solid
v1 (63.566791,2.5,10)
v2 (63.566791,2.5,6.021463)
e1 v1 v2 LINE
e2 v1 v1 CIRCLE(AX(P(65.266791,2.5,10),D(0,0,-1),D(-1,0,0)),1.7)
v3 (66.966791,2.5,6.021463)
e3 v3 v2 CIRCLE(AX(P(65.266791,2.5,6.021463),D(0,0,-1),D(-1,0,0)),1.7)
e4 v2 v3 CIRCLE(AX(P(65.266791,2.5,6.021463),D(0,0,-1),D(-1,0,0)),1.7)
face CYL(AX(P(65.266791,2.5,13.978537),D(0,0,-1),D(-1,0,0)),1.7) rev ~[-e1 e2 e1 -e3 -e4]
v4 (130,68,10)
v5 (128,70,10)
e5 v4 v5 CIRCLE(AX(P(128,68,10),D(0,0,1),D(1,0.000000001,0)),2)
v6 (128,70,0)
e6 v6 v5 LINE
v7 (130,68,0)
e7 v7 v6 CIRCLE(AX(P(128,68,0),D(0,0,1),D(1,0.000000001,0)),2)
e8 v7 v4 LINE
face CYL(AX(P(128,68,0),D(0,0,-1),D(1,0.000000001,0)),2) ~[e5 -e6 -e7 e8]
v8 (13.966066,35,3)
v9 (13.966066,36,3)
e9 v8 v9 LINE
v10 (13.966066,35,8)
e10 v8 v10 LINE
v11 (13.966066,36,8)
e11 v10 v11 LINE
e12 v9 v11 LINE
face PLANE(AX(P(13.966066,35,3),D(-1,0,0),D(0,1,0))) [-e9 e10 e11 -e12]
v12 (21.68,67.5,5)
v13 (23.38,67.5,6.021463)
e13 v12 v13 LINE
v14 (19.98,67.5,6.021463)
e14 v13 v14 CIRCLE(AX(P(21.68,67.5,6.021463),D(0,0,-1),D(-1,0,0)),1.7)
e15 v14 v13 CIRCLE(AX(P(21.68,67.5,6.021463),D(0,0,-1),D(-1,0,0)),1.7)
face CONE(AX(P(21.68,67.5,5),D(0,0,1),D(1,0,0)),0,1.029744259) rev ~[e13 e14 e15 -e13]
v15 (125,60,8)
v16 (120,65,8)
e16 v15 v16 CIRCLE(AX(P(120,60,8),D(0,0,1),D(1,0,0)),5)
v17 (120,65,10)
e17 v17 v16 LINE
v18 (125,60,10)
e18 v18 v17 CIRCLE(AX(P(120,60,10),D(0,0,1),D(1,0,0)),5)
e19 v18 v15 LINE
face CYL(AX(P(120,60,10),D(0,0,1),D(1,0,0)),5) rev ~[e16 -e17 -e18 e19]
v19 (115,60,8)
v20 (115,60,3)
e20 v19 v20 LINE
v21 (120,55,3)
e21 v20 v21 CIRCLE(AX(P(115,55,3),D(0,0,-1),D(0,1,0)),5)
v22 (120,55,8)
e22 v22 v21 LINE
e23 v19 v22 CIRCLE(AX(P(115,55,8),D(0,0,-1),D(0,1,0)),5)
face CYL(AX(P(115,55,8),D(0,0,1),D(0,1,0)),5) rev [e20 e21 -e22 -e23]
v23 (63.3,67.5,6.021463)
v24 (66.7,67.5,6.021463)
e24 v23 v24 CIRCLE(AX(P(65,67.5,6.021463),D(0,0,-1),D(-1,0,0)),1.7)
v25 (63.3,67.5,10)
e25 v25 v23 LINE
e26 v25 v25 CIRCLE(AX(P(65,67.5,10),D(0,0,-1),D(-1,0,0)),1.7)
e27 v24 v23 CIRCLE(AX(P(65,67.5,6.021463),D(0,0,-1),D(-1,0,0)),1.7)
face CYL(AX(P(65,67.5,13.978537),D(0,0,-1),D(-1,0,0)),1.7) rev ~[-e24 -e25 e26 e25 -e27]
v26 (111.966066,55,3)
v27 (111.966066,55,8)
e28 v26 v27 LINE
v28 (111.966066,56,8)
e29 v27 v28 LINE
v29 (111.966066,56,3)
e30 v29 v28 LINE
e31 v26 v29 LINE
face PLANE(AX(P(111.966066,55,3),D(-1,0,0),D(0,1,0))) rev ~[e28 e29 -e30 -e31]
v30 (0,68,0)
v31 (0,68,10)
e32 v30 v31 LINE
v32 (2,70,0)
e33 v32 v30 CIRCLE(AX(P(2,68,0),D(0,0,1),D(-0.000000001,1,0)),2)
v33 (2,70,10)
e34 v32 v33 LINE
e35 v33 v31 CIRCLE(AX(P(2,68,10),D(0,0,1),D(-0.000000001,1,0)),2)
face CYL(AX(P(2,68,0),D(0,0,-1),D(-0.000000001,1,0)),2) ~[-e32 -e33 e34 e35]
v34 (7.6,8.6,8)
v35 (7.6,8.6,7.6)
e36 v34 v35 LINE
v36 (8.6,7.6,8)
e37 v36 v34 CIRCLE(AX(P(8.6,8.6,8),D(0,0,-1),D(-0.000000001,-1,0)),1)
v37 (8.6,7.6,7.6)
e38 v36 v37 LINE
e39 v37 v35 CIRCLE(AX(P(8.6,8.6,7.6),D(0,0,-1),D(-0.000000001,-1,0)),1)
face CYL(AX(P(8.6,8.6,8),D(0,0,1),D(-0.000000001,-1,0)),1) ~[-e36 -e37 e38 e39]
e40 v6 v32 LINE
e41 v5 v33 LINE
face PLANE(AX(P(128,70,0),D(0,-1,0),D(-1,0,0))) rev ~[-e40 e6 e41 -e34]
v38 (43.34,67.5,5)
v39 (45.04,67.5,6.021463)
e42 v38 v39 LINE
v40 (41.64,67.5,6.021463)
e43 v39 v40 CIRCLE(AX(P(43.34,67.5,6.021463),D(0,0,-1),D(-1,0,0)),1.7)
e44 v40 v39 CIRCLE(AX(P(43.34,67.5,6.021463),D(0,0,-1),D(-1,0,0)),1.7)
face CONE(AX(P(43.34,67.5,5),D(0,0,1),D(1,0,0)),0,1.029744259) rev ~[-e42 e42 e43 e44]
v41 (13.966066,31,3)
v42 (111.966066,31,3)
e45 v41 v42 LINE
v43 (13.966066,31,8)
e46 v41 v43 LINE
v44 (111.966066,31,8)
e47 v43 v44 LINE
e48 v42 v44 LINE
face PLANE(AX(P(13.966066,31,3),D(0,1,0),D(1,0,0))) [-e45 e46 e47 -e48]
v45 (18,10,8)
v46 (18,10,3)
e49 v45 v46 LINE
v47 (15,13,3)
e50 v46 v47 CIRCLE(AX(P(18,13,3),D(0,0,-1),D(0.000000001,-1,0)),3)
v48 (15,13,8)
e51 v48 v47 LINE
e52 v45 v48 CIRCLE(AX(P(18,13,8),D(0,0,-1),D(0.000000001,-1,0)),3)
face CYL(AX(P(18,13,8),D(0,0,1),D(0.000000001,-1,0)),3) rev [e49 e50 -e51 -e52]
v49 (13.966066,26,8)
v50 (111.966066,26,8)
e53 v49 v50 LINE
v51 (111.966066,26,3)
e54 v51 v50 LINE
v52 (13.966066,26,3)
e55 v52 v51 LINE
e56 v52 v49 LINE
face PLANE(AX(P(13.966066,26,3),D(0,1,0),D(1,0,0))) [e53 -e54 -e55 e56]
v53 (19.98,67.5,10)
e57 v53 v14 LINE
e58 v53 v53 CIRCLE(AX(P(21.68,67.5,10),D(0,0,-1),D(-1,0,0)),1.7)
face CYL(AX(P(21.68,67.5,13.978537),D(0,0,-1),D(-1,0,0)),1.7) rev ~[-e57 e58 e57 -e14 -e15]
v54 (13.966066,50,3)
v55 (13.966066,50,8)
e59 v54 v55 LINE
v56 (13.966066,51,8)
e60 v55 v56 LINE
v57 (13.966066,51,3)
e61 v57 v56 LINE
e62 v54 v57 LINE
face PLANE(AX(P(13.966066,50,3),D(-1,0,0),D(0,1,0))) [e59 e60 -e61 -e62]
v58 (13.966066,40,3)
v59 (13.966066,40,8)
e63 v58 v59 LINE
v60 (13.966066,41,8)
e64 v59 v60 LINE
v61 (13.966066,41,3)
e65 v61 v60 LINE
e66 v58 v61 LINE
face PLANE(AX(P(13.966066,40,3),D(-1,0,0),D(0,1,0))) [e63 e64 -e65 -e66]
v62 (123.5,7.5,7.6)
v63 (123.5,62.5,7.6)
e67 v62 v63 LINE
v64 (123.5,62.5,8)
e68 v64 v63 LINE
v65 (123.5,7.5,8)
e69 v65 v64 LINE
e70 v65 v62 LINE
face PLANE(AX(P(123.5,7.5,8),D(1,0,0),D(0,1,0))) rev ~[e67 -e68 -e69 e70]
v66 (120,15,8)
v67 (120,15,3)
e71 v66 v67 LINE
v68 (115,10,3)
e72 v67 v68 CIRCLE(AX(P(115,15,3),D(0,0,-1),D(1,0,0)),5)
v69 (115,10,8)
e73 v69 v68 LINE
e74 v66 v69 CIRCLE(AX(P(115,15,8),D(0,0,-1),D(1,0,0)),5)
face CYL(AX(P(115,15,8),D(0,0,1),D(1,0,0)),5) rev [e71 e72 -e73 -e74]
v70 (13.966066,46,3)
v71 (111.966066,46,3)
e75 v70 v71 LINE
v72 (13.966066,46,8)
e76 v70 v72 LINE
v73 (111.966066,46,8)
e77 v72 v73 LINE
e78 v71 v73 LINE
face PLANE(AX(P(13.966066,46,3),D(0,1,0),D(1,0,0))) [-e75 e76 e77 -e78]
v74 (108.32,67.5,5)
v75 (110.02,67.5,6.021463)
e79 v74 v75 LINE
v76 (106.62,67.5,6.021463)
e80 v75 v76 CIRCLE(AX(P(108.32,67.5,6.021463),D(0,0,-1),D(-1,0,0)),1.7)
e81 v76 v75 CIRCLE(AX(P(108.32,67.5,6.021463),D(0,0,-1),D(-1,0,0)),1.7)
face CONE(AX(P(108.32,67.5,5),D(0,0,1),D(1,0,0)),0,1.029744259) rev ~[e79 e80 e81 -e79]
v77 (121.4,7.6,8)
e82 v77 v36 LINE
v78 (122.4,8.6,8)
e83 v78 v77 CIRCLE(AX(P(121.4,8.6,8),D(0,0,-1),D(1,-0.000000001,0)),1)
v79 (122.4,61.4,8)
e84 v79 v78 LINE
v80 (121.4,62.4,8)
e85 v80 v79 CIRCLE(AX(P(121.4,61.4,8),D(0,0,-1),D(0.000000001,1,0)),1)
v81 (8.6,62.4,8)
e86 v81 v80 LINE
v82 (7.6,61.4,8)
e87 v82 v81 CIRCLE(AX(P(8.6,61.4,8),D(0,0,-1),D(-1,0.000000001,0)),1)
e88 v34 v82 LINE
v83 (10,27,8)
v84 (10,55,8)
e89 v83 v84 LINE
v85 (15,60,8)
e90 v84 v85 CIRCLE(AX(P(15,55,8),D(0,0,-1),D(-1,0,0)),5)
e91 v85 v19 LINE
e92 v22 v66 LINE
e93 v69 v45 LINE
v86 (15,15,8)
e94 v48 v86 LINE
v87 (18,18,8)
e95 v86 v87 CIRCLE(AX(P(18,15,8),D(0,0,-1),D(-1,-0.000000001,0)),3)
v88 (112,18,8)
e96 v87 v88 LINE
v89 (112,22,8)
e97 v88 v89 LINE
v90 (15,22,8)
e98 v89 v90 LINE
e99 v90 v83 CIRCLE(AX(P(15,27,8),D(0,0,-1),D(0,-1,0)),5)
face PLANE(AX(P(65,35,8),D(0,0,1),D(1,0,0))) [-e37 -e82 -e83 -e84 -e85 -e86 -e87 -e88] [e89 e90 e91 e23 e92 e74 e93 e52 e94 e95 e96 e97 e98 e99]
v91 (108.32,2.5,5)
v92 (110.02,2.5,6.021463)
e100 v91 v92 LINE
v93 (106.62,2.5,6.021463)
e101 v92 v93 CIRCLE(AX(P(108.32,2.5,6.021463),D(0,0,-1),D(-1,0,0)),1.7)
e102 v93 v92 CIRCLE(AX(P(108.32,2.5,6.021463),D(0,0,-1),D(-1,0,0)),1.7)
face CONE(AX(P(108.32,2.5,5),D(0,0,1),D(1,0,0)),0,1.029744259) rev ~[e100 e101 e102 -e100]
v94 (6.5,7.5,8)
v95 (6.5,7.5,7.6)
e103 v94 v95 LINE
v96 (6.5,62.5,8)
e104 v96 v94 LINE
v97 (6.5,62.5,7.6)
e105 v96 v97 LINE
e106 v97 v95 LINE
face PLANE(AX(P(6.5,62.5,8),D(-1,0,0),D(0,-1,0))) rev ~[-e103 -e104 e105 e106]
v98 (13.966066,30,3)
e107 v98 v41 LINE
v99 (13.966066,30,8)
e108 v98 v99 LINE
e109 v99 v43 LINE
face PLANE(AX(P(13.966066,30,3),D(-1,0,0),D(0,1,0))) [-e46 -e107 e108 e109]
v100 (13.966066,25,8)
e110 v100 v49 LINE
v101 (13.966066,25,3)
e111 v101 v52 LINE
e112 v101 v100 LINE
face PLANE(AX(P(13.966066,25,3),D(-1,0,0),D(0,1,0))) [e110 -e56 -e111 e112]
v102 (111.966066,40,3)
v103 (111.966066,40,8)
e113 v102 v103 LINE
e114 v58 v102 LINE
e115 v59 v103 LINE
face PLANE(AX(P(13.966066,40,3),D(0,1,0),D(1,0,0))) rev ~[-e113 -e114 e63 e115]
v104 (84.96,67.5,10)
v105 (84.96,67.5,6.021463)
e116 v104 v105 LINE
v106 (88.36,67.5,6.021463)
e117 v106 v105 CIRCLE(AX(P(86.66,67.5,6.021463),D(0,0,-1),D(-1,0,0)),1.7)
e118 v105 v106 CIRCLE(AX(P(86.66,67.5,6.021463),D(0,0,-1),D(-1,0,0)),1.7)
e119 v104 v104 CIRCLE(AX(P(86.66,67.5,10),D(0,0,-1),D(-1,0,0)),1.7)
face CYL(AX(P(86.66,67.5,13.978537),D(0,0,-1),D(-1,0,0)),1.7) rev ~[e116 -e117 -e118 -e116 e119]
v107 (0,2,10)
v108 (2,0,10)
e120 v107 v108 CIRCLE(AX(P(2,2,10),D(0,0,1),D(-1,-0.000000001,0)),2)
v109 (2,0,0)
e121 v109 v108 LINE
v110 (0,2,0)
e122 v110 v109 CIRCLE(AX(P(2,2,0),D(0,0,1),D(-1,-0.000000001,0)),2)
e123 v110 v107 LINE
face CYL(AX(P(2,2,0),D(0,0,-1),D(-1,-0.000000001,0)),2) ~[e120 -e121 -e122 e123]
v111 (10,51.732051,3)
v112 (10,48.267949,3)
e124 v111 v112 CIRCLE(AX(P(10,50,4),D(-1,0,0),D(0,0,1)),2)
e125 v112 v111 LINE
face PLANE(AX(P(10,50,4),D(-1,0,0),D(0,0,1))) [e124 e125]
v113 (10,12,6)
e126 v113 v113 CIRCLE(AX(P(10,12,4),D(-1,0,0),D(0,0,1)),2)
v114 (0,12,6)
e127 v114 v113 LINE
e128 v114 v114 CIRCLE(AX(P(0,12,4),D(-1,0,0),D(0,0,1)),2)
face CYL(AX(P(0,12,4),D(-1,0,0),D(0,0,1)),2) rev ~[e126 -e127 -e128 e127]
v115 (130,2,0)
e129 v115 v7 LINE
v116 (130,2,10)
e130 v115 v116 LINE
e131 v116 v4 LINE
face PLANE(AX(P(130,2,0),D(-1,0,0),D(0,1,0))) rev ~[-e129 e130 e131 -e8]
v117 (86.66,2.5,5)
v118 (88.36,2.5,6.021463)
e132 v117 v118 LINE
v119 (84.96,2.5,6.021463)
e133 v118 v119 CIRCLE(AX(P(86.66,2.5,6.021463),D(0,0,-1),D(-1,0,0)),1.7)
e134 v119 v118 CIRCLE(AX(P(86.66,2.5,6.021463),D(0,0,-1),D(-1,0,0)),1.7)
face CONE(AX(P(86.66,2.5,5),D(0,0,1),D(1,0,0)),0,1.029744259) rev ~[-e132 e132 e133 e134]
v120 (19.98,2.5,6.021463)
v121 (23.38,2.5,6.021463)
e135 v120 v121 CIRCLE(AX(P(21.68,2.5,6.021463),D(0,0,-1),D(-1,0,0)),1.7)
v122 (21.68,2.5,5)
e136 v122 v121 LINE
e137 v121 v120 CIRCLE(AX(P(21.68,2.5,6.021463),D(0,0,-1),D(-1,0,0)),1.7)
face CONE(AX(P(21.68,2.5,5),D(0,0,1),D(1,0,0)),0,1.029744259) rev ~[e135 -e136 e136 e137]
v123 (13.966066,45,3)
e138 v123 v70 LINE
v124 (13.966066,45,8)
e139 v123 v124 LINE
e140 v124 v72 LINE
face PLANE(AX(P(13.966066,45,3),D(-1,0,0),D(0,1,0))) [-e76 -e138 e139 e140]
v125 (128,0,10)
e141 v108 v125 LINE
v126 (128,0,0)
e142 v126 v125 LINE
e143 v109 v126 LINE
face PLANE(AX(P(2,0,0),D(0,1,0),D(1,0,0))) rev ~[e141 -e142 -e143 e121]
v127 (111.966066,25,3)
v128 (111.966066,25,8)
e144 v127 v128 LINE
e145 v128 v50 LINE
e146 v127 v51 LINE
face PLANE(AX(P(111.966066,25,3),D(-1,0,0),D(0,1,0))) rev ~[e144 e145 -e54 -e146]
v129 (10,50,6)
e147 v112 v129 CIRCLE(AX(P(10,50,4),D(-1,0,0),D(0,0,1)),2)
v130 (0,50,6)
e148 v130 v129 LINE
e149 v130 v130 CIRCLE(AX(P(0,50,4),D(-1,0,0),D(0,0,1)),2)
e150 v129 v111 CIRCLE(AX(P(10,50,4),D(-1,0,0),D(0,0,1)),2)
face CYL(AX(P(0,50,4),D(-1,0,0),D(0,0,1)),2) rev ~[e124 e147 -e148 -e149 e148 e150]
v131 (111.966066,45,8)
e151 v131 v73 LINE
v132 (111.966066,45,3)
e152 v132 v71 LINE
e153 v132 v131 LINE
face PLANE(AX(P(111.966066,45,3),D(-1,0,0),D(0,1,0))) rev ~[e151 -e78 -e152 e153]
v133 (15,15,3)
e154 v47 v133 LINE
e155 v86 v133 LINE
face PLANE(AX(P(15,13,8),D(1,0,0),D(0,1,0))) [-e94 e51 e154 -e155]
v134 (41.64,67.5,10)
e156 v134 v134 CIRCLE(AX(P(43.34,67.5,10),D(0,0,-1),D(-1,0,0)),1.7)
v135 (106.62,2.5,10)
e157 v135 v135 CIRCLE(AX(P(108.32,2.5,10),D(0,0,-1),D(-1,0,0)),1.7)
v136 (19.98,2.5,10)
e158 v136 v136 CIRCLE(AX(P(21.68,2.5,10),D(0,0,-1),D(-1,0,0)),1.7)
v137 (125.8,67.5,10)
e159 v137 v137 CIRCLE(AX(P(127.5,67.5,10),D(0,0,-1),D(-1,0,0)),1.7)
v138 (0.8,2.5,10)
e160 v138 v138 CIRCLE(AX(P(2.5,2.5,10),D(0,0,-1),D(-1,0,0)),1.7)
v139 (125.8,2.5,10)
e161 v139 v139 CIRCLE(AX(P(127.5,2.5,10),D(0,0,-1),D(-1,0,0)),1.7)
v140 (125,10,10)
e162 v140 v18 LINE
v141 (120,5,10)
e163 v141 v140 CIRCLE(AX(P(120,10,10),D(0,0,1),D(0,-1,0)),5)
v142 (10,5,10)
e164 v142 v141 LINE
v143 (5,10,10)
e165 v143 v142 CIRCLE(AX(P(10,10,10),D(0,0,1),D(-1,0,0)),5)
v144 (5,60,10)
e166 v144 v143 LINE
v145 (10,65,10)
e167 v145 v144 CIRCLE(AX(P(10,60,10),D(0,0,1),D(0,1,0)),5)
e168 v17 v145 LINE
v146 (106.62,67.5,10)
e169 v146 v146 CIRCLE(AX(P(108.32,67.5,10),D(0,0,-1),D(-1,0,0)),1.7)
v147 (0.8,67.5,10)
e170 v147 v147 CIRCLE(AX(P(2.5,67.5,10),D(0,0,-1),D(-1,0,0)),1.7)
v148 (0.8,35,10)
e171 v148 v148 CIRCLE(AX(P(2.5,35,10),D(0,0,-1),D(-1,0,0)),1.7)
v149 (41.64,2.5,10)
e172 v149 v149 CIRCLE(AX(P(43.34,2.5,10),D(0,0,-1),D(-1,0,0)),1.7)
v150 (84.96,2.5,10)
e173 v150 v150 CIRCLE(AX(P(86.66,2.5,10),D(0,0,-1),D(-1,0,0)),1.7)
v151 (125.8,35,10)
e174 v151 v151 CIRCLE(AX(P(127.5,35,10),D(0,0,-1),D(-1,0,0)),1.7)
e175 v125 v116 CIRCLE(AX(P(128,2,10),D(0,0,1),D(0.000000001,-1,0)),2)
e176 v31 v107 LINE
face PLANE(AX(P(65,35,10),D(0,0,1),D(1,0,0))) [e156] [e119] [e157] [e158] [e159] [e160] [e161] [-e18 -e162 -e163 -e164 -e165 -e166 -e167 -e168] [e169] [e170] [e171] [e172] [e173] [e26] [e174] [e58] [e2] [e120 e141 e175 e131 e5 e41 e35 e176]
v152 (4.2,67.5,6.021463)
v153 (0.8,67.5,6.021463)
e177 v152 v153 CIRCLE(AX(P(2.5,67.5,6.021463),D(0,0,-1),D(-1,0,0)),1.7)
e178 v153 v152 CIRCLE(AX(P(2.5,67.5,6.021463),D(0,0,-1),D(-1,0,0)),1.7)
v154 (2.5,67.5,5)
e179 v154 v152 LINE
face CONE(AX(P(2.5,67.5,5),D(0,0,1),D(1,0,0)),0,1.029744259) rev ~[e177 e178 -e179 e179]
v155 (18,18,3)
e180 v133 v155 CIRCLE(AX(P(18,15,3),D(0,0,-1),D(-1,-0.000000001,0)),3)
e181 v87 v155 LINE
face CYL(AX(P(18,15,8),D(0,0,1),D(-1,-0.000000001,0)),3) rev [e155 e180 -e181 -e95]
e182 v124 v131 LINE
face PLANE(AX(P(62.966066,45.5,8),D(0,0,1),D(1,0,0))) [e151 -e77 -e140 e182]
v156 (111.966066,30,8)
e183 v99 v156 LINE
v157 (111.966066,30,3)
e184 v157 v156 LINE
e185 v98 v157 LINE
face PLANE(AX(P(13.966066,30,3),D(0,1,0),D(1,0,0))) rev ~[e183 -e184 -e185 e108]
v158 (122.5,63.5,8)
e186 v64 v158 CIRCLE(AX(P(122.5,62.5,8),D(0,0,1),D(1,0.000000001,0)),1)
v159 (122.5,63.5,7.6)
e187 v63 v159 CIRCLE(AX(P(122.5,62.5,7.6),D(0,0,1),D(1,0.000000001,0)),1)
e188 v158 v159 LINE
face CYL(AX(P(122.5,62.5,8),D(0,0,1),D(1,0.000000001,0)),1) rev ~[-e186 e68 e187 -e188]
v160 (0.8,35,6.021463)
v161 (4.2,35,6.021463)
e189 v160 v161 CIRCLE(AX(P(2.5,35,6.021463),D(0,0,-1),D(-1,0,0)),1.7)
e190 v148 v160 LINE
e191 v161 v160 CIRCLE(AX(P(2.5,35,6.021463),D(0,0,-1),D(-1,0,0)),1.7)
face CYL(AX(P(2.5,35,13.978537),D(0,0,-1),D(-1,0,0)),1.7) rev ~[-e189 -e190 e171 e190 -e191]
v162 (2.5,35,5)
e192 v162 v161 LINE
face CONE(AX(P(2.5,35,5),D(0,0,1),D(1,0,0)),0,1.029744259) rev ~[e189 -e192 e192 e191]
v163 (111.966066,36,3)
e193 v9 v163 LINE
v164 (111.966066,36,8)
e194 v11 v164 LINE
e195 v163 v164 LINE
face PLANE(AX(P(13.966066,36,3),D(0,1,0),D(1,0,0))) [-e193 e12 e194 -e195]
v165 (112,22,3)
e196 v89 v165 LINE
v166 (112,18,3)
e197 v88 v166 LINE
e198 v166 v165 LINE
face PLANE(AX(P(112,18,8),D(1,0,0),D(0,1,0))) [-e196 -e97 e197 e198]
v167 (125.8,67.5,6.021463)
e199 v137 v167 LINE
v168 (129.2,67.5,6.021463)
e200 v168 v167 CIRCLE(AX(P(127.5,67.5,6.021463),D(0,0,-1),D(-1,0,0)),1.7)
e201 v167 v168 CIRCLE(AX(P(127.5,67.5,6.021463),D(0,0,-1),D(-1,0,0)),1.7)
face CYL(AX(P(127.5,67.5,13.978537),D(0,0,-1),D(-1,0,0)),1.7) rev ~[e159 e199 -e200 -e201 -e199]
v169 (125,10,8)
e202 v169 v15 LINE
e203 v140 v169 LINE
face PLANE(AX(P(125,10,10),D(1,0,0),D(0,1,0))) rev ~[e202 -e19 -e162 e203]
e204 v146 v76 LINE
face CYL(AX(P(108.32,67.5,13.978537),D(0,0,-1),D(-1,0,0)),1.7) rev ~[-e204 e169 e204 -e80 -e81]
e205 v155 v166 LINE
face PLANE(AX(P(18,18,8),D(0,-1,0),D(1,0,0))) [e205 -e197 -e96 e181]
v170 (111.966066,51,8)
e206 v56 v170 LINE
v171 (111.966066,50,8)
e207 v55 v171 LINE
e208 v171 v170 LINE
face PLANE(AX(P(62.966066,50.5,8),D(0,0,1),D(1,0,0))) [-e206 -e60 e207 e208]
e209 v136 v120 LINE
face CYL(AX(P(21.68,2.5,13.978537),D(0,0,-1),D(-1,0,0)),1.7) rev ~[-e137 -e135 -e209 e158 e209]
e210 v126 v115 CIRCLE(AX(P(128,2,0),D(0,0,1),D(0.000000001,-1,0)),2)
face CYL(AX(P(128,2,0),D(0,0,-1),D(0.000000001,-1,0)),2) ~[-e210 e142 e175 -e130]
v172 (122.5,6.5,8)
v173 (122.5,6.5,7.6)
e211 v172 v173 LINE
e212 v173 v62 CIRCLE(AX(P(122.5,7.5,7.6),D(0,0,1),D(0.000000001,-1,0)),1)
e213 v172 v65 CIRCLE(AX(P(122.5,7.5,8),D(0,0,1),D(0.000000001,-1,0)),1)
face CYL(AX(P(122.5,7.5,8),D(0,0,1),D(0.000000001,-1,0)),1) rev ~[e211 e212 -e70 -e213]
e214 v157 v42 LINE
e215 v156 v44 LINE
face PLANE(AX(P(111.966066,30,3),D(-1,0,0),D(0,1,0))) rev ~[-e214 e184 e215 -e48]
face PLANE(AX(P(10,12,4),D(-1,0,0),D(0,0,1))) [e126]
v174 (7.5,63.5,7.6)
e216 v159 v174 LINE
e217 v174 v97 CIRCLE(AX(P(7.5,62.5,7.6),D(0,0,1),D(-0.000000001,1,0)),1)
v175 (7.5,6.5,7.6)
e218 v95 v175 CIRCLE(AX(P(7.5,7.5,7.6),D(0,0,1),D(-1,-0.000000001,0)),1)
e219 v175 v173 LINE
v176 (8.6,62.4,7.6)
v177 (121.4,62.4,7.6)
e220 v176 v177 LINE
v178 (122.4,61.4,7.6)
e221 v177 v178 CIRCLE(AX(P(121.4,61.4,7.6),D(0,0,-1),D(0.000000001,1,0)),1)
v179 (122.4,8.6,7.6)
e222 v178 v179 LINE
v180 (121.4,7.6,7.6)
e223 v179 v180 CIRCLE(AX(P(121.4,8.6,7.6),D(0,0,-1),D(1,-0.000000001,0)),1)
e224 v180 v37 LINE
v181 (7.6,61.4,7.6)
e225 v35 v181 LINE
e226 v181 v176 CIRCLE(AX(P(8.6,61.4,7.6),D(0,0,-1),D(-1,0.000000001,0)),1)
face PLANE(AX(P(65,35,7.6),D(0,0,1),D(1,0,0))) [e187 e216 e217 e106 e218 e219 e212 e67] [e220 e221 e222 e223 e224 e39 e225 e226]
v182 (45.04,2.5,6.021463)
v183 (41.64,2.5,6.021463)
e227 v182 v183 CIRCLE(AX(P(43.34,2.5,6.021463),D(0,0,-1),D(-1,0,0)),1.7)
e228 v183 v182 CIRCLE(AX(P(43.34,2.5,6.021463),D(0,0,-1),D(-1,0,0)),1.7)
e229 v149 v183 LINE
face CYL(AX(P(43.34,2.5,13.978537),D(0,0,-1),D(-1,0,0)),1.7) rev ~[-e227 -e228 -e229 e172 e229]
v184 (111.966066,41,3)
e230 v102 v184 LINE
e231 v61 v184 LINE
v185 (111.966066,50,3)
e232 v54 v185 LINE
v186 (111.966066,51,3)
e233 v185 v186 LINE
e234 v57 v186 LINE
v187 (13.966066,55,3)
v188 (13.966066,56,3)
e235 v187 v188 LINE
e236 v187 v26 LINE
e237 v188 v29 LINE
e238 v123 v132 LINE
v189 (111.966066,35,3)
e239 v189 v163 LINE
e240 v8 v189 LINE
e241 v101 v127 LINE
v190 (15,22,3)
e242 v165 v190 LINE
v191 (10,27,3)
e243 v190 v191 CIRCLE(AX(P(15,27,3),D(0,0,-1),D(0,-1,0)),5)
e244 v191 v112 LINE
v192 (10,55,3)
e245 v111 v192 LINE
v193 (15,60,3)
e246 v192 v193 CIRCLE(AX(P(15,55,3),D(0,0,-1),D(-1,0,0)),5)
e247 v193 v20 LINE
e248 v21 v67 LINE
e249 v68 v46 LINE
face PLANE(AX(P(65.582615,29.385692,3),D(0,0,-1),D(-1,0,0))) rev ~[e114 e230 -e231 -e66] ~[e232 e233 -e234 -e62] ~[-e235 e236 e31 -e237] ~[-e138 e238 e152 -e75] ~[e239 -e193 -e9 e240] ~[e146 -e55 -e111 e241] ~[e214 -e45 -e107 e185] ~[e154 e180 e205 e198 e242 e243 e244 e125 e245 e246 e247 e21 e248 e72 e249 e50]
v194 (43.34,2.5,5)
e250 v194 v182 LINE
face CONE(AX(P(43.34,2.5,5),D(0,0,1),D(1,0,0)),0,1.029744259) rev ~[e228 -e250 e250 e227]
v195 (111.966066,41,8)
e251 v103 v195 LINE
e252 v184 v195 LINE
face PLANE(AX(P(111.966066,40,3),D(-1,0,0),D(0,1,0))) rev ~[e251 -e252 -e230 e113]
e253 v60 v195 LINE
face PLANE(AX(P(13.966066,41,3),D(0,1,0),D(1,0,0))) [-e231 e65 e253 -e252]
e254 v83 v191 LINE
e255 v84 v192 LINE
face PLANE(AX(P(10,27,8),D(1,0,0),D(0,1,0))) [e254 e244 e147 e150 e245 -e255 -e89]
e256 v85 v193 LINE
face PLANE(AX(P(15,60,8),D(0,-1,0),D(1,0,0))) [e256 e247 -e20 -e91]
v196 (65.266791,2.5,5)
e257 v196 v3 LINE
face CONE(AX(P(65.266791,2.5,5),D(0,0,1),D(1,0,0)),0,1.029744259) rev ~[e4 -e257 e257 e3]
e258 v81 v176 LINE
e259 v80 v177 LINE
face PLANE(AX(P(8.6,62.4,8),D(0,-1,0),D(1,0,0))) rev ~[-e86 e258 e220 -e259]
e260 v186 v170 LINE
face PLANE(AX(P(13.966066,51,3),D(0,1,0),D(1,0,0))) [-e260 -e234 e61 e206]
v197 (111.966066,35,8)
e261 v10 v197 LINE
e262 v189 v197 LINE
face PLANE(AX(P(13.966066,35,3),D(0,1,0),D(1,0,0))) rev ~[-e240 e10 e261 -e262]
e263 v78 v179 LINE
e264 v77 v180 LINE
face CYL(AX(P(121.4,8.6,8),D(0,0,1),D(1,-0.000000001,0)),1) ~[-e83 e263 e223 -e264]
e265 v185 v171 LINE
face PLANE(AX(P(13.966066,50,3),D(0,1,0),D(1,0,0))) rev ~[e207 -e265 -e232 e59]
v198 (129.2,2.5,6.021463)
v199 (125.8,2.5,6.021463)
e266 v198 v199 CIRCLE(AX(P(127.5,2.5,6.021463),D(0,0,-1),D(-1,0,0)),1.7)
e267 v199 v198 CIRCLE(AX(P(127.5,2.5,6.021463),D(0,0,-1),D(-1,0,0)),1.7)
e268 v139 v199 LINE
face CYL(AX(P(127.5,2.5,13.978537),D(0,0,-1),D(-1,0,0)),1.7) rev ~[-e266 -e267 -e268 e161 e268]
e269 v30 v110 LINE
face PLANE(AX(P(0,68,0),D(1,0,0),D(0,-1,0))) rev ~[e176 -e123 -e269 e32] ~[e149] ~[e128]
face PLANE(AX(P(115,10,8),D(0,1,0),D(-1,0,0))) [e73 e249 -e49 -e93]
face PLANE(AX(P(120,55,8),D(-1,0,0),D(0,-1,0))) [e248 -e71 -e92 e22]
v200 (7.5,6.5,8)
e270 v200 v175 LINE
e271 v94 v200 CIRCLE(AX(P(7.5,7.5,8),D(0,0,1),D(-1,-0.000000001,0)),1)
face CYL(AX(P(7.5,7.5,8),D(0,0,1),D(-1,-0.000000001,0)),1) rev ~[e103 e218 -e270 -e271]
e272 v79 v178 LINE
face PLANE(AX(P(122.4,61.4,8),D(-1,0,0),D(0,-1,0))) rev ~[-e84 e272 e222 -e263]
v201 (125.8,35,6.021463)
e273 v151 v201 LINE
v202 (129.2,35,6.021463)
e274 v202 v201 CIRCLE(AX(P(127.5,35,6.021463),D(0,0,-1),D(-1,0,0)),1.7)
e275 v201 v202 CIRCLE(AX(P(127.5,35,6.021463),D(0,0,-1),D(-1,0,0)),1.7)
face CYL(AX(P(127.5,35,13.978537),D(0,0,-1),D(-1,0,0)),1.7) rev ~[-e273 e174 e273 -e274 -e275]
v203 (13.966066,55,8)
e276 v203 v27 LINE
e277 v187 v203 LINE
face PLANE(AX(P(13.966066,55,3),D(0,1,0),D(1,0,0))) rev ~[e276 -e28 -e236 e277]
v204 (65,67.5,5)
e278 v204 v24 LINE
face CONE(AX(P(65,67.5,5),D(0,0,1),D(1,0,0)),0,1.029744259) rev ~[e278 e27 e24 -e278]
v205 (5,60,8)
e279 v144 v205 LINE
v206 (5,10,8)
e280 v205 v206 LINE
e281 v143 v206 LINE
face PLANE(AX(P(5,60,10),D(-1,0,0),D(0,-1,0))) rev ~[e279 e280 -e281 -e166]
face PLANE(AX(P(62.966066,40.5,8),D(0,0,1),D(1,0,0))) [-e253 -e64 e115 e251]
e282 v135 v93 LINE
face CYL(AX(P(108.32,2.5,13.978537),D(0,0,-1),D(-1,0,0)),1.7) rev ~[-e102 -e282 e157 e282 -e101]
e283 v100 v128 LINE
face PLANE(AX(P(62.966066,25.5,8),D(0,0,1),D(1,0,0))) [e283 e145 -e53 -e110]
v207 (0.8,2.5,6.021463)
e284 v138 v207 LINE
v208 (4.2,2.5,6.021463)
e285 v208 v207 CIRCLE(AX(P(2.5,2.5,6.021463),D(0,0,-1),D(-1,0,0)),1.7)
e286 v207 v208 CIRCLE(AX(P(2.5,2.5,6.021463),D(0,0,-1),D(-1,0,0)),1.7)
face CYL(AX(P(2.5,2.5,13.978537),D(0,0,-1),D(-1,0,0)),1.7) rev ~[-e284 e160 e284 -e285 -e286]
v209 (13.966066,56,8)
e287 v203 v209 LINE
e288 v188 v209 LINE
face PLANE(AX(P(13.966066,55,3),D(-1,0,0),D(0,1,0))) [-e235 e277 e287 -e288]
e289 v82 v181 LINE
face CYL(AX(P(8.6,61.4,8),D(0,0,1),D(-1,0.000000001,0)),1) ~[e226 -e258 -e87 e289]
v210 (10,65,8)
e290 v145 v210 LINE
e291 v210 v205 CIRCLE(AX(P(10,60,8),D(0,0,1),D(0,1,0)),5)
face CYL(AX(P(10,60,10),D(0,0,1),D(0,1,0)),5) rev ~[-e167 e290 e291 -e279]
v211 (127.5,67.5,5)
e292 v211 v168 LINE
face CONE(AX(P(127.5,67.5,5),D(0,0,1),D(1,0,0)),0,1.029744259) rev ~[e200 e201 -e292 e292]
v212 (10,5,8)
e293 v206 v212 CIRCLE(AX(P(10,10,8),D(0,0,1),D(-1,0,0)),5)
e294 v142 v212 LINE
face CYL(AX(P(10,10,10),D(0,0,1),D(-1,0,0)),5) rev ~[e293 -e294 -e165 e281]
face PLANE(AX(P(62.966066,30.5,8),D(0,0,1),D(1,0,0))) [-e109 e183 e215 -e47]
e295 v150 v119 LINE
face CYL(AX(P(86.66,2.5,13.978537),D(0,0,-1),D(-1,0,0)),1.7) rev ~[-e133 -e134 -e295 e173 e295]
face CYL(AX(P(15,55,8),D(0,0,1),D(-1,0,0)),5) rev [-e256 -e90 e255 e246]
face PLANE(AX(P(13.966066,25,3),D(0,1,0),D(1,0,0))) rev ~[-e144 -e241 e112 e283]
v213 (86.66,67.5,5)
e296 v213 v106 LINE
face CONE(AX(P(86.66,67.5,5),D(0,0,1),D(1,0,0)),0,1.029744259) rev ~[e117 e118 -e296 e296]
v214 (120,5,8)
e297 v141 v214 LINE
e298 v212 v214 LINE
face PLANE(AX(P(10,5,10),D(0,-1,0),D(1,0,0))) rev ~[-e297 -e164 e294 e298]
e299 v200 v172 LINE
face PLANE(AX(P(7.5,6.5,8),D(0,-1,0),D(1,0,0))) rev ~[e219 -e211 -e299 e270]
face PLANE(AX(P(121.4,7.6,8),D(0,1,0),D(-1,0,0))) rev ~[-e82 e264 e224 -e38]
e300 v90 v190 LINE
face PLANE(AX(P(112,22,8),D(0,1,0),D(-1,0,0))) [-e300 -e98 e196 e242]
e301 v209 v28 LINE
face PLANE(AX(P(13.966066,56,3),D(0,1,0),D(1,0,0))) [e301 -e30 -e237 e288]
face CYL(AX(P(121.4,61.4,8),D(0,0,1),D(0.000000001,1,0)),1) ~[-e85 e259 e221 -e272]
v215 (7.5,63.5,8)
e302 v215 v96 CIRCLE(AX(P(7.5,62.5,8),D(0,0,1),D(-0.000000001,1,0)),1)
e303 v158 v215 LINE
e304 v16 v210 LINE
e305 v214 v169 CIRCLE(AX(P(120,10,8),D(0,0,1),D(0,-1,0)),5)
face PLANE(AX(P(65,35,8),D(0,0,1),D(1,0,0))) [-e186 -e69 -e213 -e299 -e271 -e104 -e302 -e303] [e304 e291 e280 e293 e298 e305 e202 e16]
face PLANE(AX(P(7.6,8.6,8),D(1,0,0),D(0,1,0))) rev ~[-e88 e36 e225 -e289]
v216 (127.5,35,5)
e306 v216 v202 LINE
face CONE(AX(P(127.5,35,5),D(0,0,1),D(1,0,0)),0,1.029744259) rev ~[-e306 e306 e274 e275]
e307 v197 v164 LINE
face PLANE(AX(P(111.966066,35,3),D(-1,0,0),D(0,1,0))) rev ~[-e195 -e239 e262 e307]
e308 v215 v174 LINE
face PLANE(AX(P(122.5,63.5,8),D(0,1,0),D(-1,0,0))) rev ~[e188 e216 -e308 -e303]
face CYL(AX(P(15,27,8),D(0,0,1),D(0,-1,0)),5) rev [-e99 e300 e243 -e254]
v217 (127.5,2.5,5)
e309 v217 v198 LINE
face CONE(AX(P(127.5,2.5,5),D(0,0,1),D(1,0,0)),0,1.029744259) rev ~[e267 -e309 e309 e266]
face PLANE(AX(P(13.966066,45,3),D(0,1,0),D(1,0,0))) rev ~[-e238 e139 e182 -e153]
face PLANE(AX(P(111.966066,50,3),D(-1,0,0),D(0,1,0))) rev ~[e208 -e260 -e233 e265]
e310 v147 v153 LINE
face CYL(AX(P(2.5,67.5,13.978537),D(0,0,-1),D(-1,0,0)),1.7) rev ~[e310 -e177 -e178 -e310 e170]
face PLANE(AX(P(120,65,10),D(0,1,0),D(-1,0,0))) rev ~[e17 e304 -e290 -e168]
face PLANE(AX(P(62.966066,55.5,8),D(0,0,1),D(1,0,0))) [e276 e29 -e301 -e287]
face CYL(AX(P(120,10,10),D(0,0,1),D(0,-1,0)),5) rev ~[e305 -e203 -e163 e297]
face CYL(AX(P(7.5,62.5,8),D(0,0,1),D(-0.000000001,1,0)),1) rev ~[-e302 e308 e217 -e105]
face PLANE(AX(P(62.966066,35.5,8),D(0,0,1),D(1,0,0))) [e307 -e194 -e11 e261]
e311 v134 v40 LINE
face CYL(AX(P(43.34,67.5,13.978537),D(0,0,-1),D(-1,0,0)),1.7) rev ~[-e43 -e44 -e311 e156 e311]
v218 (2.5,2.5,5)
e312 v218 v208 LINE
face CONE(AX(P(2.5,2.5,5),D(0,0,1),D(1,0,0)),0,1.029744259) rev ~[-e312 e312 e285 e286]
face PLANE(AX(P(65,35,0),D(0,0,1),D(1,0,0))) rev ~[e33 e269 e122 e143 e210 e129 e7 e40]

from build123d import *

# Parameters (mm, degrees)
BOSS_EXTRU_1_DEPTH      = 10
ENL_V_MAT_EXTRU_1_DEPTH = 2
ENL_V_MAT_EXTRU_3_DEPTH = 5
ESQUISSE23_W            = 98
ESQUISSE23_H            = 1
BOSS_EXTRU_2_DEPTH      = 5
ENL_V_MAT_EXTRU_4_DEPTH = 0.4
ESQUISSE19_R            = 2
ENL_V_MAT_EXTRU_5_DEPTH = 10
D_GAGEMENT_M31_D        = 3.4
D_GAGEMENT_M31_DEPTH    = 3.978536948
D_GAGEMENT_M31_TIP      = 1.021463052


with BuildPart() as part:
    # Esquisse1 → Boss.-Extru.1 (new body)
    with BuildSketch(Plane.XY):
        with BuildLine():
            Line((2, 0), (128, 0))
            ThreePointArc((128, 0), (129.414213562, 0.585786438), (130, 2))
            Line((130, 2), (130, 68))
            ThreePointArc((130, 68), (129.414213562, 69.414213562), (128, 70))
            Line((128, 70), (2, 70))
            ThreePointArc((2, 70), (0.585786438, 69.414213562), (0, 68))
            Line((0, 68), (0, 2))
            ThreePointArc((0, 2), (0.585786438, 0.585786438), (2, 0))
        make_face()
    extrude(amount=BOSS_EXTRU_1_DEPTH)

    # Esquisse18 → Enlèv. mat.-Extru.1 (cut)
    with BuildSketch(Plane.XY.offset(10)):
        with BuildLine():
            Line((10, 5), (120, 5))
            ThreePointArc((120, 5), (123.535533906, 6.464466094), (125, 10))
            Line((125, 10), (125, 60))
            ThreePointArc((125, 60), (123.535533906, 63.535533906), (120, 65))
            Line((120, 65), (10, 65))
            ThreePointArc((10, 65), (6.464466094, 63.535533906), (5, 60))
            Line((5, 60), (5, 10))
            ThreePointArc((5, 10), (6.464466094, 6.464466094), (10, 5))
        make_face()
    extrude(amount=-ENL_V_MAT_EXTRU_1_DEPTH, mode=Mode.SUBTRACT)

    # Esquisse20 → Enlèv. mat.-Extru.3 (cut)
    with BuildSketch(Plane.XY.offset(8)):
        with BuildLine():
            Line((15, 60), (115, 60))
            ThreePointArc((115, 60), (118.535533906, 58.535533906), (120, 55))
            Line((120, 55), (120, 15))
            ThreePointArc((120, 15), (118.535533906, 11.464466094), (115, 10))
            Line((115, 10), (18, 10))
            ThreePointArc((18, 10), (15.878679656, 10.878679656), (15, 13))
            Line((15, 13), (15, 15))
            ThreePointArc((15, 15), (15.878679656, 17.121320344), (18, 18))
            Line((18, 18), (112, 18))
            Line((112, 18), (112, 22))
            Line((112, 22), (15, 22))
            ThreePointArc((15, 22), (11.464466094, 23.464466094), (10, 27))
            Line((10, 27), (10, 55))
            ThreePointArc((10, 55), (11.464466094, 58.535533906), (15, 60))
        make_face()
    extrude(amount=-ENL_V_MAT_EXTRU_3_DEPTH, mode=Mode.SUBTRACT)

    # Esquisse23 → Boss.-Extru.2 (add)
    with BuildSketch(Plane.XY.offset(3)):
        with Locations((62.966066354, 55.5)):
            Rectangle(ESQUISSE23_W, ESQUISSE23_H)
        with Locations((62.966066354, 50.5)):
            Rectangle(ESQUISSE23_W, ESQUISSE23_H)
        with Locations((62.966066354, 45.5)):
            Rectangle(ESQUISSE23_W, ESQUISSE23_H)
        with Locations((62.966066354, 40.5)):
            Rectangle(ESQUISSE23_W, ESQUISSE23_H)
        with Locations((62.966066354, 35.5)):
            Rectangle(ESQUISSE23_W, ESQUISSE23_H)
        with Locations((62.966066354, 30.5)):
            Rectangle(ESQUISSE23_W, ESQUISSE23_H)
        with Locations((62.966066354, 25.5)):
            Rectangle(ESQUISSE23_W, ESQUISSE23_H)
    extrude(amount=BOSS_EXTRU_2_DEPTH)

    # Esquisse24 → Enlèv. mat.-Extru.4 (cut)
    with BuildSketch(Plane.XY.offset(8)):
        with BuildLine():
            Line((6.5, 62.5), (6.5, 7.5))
            ThreePointArc((6.5, 7.5), (6.792893219, 6.792893219), (7.5, 6.5))
            Line((7.5, 6.5), (7.967348912, 6.5))
            Line((7.967348912, 6.5), (122.5, 6.5))
            ThreePointArc((122.5, 6.5), (123.207106781, 6.792893219), (123.5, 7.5))
            Line((123.5, 7.5), (123.5, 62.5))
            ThreePointArc((123.5, 62.5), (123.207106781, 63.207106781), (122.5, 63.5))
            Line((122.5, 63.5), (7.5, 63.5))
            ThreePointArc((7.5, 63.5), (6.792893219, 63.207106781), (6.5, 62.5))
        make_face()
        with BuildLine():
            Line((8.6, 62.4), (121.4, 62.4))
            ThreePointArc((121.4, 62.4), (122.107106781, 62.107106781), (122.4, 61.4))
            Line((122.4, 61.4), (122.4, 8.6))
            ThreePointArc((122.4, 8.6), (122.107106781, 7.892893219), (121.4, 7.6))
            Line((121.4, 7.6), (8.6, 7.6))
            ThreePointArc((8.6, 7.6), (7.892893219, 7.892893219), (7.6, 8.6))
            Line((7.6, 8.6), (7.6, 61.4))
            ThreePointArc((7.6, 61.4), (7.892893219, 62.107106781), (8.6, 62.4))
        make_face(mode=Mode.SUBTRACT)
    extrude(amount=-ENL_V_MAT_EXTRU_4_DEPTH, mode=Mode.SUBTRACT)

    # Esquisse19 → Enlèv. mat.-Extru.5 (cut)
    with BuildSketch(Plane.ZY):
        with Locations((4, 50)):
            Circle(ESQUISSE19_R)
        with Locations((4, 12)):
            Circle(ESQUISSE19_R)
    extrude(amount=-ENL_V_MAT_EXTRU_5_DEPTH, mode=Mode.SUBTRACT)

    # Dégagement M31
    with Locations(Plane.XY.offset(10)):
        with Locations((127.5, 67.5), (108.32, 67.5), (86.66, 67.5), (65, 67.5), (43.34, 67.5), (21.68, 67.5), (2.5, 67.5), (2.5, 35), (2.5, 2.5), (21.68, 2.5), (43.34, 2.5), (65.266790711, 2.5), (86.66, 2.5), (108.32, 2.5), (127.5, 2.5), (127.5, 35)):
            Hole(D_GAGEMENT_M31_D / 2, depth=D_GAGEMENT_M31_DEPTH)
            with Locations((0, 0, -(D_GAGEMENT_M31_DEPTH + D_GAGEMENT_M31_TIP / 2))):  # 118° drill point
                Cone(0, D_GAGEMENT_M31_D / 2, D_GAGEMENT_M31_TIP, mode=Mode.SUBTRACT)


solid = part.part
